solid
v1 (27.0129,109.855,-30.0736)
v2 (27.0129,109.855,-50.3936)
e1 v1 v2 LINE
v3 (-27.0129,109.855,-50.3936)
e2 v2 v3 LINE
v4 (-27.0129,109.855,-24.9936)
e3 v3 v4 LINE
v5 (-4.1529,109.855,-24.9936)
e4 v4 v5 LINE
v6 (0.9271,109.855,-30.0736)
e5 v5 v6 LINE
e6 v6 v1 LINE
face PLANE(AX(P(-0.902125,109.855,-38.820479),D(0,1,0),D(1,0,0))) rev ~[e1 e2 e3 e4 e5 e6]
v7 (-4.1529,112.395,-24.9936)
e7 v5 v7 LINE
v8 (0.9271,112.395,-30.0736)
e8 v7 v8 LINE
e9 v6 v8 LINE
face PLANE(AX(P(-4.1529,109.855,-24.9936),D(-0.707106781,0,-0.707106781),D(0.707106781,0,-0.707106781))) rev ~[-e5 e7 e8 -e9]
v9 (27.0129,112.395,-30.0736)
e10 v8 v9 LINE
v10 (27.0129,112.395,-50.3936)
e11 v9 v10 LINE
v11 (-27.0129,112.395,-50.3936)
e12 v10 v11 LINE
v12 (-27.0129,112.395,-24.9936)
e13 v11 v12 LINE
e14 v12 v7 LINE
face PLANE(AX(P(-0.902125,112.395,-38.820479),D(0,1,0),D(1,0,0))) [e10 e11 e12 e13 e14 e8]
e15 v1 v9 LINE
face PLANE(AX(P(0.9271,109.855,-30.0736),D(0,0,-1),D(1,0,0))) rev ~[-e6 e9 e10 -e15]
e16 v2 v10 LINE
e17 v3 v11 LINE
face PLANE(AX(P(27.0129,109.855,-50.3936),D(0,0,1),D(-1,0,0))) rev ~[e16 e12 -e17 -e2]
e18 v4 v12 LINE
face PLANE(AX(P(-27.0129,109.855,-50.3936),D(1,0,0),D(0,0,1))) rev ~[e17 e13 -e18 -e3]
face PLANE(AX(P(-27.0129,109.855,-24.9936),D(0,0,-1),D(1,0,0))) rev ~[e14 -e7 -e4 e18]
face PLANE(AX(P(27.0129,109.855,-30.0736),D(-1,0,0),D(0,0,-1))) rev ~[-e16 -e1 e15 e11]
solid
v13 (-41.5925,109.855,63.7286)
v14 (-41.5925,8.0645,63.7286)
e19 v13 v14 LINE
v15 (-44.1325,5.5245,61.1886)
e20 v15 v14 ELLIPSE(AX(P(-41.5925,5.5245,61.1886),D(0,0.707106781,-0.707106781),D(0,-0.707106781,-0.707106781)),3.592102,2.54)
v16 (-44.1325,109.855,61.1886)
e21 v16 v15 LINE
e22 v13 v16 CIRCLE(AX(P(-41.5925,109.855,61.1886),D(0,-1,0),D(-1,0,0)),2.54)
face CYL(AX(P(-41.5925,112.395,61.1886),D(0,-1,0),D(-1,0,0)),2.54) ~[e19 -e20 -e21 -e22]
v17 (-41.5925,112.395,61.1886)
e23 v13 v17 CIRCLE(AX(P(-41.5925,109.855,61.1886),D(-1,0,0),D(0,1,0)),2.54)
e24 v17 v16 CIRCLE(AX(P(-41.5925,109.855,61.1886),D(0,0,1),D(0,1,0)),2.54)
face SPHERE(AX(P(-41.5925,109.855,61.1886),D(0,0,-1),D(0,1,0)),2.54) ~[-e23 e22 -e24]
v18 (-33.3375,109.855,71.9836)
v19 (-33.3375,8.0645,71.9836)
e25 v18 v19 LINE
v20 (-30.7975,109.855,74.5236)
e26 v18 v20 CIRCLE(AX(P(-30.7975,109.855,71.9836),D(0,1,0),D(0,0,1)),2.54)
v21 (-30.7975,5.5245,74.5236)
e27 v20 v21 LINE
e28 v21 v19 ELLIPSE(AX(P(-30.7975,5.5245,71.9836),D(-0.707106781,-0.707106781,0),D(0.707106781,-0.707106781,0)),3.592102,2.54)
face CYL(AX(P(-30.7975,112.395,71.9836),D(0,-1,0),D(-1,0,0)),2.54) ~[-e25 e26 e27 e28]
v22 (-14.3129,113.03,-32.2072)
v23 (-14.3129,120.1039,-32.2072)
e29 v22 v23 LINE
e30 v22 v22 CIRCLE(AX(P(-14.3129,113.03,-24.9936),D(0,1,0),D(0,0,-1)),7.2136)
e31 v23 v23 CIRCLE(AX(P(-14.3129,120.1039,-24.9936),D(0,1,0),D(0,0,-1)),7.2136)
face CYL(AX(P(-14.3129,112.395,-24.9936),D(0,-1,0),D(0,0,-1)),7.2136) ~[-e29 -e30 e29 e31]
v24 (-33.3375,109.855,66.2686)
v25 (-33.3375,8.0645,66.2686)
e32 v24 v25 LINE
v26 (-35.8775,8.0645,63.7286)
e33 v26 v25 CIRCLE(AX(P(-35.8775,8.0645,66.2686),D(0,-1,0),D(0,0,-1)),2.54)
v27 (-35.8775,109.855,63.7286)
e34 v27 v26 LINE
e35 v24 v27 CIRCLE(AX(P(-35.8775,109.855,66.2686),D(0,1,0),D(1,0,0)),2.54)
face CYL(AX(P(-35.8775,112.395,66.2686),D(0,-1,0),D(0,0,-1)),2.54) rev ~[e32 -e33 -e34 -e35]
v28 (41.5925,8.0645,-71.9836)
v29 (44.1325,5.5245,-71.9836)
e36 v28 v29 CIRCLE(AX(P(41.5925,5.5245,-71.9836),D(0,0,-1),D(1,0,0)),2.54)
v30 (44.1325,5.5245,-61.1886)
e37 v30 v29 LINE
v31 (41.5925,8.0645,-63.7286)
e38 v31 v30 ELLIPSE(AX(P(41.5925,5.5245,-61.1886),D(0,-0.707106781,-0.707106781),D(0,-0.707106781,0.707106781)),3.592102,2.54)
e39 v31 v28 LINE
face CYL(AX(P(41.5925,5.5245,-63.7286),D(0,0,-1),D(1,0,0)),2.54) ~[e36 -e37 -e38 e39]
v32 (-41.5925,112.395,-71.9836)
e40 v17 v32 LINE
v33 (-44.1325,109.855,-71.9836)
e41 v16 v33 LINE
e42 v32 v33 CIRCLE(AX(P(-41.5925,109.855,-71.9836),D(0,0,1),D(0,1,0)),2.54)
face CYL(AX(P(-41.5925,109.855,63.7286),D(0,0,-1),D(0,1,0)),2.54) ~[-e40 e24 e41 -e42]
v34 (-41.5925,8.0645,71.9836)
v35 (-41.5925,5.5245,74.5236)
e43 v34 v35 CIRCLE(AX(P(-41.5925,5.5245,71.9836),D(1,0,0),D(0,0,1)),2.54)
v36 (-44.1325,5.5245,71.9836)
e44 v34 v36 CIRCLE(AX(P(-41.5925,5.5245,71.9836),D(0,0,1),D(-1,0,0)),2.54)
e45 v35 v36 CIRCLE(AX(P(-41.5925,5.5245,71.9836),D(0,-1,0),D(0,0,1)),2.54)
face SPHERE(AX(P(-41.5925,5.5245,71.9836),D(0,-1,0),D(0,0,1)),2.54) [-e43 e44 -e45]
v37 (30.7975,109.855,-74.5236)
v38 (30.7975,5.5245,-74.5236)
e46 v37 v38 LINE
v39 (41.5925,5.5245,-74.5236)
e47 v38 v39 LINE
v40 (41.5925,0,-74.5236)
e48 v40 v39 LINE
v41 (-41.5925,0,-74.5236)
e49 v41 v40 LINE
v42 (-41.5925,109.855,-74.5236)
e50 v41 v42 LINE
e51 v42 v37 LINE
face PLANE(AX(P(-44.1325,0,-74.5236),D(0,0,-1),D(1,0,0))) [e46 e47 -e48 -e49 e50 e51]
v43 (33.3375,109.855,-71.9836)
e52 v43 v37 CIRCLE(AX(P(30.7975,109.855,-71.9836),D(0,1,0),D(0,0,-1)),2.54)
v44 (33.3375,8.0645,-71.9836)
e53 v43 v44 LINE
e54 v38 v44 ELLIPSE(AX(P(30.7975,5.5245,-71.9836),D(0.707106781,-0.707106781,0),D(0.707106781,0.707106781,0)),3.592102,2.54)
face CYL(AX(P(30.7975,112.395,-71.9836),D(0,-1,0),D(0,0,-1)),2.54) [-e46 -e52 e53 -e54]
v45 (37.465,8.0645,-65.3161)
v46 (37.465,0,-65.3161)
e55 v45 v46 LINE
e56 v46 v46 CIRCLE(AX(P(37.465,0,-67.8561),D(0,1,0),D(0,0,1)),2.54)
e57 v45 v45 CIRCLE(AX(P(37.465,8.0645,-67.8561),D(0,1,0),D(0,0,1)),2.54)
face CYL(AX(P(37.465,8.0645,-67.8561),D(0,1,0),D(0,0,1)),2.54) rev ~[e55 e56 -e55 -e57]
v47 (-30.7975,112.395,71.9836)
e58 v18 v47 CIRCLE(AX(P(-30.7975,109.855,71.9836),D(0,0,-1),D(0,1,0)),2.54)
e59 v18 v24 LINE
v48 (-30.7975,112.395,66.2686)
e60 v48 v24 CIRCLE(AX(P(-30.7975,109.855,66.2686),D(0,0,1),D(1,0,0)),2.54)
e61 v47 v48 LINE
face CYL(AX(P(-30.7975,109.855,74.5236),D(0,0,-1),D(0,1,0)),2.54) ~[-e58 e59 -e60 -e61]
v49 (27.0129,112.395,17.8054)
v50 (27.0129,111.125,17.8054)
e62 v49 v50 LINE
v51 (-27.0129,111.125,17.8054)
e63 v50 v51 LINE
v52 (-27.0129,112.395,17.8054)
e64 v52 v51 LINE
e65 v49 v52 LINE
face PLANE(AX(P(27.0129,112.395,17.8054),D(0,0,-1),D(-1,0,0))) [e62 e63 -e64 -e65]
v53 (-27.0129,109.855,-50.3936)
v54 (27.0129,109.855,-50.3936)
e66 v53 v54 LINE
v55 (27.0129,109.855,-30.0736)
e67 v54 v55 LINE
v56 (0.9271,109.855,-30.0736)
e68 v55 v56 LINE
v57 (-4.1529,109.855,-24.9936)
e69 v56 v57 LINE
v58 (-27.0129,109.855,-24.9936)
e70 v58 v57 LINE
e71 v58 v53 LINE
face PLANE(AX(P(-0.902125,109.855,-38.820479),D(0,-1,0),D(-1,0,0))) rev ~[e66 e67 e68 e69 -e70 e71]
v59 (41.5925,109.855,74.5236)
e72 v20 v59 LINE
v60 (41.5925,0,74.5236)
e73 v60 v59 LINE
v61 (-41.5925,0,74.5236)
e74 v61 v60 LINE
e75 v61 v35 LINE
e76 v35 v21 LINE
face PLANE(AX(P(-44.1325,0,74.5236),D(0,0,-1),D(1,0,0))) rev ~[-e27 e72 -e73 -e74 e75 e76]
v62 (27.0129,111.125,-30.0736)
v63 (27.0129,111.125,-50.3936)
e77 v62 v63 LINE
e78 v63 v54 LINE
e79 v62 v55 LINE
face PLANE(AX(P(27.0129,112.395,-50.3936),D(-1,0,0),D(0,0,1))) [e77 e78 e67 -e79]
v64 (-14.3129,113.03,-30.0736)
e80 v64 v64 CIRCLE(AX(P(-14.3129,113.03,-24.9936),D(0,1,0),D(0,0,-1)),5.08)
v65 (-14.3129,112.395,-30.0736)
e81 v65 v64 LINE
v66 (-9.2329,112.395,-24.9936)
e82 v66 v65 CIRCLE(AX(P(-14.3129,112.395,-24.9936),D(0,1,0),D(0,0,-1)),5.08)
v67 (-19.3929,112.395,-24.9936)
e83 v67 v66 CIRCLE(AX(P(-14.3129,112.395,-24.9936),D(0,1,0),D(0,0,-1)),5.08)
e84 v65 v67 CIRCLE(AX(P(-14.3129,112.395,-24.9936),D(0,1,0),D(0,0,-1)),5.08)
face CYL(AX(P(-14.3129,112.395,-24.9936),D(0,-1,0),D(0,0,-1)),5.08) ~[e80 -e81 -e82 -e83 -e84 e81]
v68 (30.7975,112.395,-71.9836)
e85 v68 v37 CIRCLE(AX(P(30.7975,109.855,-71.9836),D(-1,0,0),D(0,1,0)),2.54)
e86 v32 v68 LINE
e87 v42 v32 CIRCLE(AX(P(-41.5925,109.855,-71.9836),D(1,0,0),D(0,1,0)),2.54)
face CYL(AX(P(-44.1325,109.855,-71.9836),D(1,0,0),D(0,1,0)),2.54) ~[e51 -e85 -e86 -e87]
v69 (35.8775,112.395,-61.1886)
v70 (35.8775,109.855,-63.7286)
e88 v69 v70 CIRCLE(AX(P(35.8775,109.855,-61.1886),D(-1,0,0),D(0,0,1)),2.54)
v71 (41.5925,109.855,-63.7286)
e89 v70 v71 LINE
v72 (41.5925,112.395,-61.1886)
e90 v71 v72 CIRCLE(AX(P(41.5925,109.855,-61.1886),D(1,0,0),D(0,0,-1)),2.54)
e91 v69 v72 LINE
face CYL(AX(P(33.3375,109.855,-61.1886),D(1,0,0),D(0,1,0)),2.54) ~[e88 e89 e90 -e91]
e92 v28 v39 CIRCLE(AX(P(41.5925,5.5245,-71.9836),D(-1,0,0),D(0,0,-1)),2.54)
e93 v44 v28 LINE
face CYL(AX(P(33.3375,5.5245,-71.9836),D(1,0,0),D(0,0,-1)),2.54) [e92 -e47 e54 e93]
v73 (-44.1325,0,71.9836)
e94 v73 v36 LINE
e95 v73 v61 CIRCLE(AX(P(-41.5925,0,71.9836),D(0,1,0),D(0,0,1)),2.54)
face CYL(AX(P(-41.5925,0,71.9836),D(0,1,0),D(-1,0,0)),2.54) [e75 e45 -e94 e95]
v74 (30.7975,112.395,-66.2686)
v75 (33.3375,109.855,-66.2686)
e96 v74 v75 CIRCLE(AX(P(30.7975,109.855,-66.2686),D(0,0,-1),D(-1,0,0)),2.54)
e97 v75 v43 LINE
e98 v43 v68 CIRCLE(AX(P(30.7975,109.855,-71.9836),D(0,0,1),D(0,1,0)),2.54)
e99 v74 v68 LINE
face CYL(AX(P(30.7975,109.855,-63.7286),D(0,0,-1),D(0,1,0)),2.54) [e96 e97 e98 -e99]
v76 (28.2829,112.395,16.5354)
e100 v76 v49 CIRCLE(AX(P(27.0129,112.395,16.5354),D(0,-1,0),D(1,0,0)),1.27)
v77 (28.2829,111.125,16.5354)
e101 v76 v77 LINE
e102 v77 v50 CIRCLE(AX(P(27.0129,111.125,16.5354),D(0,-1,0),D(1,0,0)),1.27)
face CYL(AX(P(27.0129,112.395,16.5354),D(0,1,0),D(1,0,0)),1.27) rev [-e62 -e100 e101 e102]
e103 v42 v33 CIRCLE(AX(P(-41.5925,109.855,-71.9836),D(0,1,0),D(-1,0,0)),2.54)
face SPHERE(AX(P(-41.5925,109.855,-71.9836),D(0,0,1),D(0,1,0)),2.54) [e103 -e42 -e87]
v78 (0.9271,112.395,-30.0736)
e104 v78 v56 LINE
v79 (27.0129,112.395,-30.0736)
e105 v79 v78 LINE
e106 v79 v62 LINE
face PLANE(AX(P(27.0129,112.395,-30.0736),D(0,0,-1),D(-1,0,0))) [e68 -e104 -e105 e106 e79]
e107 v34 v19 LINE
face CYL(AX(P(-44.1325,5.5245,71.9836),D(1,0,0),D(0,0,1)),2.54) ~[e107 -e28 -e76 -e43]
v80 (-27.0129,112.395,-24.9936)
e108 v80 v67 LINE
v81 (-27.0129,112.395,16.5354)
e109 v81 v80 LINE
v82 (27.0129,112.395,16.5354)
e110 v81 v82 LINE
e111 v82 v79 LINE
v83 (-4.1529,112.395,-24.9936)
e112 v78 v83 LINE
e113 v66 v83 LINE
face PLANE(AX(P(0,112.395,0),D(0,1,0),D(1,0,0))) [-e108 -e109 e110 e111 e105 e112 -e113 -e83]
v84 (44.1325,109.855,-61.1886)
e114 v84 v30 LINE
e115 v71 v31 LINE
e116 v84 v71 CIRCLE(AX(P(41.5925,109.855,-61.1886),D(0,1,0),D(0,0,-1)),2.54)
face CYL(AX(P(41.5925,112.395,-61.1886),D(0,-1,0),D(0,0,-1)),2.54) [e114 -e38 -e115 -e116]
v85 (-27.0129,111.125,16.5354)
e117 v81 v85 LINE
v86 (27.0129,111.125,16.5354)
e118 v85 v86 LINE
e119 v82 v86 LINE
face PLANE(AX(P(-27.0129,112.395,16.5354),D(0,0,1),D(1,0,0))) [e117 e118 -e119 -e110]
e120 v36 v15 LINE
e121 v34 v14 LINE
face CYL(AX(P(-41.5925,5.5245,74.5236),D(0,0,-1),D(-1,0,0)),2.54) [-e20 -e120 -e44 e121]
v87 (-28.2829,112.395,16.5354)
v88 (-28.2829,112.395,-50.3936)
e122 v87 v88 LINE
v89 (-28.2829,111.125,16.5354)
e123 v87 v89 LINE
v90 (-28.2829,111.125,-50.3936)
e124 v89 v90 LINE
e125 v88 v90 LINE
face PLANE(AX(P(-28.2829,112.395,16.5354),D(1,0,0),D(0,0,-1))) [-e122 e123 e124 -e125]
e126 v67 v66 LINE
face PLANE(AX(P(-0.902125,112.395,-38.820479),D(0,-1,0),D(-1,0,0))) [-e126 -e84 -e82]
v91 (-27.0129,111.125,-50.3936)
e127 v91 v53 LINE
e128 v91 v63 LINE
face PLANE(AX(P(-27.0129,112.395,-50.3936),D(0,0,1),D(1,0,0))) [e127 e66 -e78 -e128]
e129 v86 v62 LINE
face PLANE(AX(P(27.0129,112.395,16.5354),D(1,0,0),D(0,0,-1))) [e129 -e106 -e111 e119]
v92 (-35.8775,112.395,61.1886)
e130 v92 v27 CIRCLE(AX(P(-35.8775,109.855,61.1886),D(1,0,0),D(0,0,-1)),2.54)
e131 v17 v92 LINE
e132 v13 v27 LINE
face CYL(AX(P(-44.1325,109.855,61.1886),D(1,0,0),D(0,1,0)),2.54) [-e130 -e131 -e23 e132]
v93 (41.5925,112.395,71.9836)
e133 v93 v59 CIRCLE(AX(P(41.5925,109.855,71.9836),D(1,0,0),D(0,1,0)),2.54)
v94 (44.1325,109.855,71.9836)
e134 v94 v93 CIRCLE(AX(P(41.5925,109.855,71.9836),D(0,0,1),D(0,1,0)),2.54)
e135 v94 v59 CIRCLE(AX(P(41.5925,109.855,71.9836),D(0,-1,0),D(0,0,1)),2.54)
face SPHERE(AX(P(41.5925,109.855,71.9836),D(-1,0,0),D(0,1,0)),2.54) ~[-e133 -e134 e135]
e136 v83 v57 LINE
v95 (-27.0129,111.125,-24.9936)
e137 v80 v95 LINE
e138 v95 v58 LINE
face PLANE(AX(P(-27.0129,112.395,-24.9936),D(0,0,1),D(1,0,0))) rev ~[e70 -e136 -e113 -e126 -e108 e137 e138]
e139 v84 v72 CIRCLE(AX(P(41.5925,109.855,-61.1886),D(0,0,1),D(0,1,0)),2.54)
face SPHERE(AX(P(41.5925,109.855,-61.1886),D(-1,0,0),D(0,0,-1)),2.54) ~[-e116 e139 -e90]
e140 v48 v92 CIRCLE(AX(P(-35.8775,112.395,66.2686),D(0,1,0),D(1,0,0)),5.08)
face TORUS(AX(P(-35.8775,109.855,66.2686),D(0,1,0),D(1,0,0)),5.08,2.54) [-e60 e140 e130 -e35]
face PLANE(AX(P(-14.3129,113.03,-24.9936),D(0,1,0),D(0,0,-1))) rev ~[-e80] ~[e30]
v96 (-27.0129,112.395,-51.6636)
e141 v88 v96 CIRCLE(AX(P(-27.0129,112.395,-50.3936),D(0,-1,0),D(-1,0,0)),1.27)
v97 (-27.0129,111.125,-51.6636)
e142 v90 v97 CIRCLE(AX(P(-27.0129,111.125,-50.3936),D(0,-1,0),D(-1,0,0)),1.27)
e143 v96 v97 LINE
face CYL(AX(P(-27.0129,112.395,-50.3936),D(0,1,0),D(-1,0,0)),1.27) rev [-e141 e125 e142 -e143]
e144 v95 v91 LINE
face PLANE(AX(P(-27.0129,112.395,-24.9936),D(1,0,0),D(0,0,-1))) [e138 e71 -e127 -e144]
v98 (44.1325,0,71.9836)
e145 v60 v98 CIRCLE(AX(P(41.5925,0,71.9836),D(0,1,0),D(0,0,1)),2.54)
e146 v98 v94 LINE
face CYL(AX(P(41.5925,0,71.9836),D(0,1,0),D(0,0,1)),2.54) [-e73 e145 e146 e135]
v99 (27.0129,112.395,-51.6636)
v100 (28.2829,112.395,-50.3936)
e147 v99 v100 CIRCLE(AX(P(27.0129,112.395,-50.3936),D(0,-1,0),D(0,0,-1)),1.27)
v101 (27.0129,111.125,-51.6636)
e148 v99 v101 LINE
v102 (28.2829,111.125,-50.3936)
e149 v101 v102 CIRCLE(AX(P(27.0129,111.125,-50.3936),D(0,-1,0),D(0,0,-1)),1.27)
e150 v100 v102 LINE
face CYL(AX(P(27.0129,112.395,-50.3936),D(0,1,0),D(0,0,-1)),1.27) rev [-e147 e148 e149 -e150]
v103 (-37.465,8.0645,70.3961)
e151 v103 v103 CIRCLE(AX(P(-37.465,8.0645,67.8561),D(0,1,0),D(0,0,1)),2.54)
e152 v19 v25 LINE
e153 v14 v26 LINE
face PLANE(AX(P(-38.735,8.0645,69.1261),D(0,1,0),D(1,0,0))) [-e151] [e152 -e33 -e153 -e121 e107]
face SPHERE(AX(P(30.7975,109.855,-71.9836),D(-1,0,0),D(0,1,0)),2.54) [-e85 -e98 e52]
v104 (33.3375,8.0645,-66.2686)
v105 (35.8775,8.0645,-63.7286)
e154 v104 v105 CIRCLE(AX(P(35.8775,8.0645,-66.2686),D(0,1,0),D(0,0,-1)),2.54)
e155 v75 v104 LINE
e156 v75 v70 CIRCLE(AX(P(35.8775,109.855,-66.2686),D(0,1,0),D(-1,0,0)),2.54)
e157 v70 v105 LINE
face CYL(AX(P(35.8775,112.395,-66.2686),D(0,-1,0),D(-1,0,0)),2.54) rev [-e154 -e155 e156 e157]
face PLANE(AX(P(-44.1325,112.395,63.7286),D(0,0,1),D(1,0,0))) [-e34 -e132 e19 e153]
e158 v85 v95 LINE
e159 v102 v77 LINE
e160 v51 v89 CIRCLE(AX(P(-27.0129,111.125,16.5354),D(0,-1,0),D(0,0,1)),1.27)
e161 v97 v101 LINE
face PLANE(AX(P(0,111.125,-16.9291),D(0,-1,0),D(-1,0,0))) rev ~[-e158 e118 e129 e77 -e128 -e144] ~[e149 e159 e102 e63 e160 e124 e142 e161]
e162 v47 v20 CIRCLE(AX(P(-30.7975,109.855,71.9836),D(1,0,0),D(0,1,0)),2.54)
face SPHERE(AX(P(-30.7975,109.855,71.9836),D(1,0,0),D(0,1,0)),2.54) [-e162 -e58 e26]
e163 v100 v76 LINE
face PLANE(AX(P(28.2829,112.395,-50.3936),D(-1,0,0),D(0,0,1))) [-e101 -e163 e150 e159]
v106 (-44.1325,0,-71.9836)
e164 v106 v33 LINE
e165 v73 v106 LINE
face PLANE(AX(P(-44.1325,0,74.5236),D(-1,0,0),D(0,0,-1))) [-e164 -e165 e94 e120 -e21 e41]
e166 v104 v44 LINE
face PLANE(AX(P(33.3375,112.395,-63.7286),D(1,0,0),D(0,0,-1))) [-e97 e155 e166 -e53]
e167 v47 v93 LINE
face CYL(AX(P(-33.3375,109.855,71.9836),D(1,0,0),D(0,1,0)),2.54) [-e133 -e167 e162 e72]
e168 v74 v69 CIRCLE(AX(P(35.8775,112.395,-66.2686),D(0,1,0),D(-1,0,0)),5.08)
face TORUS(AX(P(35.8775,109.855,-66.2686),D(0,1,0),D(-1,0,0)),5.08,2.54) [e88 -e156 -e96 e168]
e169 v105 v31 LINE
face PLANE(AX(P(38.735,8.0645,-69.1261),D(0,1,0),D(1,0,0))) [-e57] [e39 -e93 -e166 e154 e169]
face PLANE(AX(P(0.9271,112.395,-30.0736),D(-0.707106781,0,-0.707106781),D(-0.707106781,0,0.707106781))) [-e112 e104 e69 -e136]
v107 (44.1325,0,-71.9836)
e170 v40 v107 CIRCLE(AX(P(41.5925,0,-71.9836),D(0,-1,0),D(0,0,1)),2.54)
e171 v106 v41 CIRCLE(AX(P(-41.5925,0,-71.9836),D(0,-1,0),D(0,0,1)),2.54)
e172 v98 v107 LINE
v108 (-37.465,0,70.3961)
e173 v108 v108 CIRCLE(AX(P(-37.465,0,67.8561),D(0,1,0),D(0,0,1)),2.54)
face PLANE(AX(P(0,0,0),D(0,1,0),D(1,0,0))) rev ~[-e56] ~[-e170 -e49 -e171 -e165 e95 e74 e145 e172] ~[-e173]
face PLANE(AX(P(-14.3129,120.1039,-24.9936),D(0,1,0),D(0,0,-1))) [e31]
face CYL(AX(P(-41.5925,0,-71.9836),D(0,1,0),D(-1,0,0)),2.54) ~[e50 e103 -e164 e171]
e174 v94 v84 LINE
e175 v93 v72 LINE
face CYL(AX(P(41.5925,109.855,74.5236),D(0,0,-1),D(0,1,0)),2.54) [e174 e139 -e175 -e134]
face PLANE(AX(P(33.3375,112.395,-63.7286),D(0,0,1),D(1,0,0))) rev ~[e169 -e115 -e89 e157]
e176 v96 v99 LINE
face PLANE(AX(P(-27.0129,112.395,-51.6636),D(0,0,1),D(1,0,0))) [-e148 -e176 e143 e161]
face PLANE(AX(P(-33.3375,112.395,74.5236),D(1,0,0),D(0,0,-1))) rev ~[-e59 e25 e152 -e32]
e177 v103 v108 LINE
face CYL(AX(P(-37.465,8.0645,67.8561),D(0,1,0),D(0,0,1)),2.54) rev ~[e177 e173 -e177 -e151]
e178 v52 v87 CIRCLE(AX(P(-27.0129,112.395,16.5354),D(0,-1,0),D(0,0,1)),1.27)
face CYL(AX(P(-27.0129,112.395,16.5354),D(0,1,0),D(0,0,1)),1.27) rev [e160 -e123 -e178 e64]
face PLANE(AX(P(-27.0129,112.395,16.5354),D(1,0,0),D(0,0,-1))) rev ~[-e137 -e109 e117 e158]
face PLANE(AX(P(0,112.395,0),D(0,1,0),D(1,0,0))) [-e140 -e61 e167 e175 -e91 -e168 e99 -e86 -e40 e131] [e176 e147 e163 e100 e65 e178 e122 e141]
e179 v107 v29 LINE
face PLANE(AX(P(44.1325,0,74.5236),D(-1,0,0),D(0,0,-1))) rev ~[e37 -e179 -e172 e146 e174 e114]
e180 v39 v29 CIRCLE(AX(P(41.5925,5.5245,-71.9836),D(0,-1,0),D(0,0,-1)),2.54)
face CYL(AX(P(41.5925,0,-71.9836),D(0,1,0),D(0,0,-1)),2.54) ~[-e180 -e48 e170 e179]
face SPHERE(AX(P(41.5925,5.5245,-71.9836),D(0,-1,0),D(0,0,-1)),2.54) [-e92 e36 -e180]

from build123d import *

# Parameters (mm, degrees)
SKETCH1_W           = 88.265
SKETCH1_H           = 149.0472
BOSS_EXTRUDE1_DEPTH = 112.395
SKETCH2_W           = 10.795
SKETCH2_H           = 10.795
CUT_EXTRUDE1_DEPTH  = 104.3305
SKETCH3_W           = 54.0258
SKETCH3_H           = 66.929
CUT_EXTRUDE2_DEPTH  = 1.27
SKETCH4_R           = 7.2136
SKETCH4_R_2         = 5.08
BOSS_EXTRUDE2_DEPTH = 7.7089
CUT_EXTRUDE5_START  = -7.7089
SKETCH7_R           = 7.2136
SKETCH7_R_2         = 5.08
CUT_EXTRUDE5_DEPTH  = 0.635
FILLET1_R           = 2.54
CUT_EXTRUDE6_DEPTH  = 2.54
BOSS_EXTRUDE3_DEPTH = 2.54
SKETCH10_R          = 2.54
CUT_EXTRUDE7_DEPTH  = 142.613105557


with BuildPart() as part:
    # Sketch1 → Boss-Extrude1 (new body)
    with BuildSketch(Plane(origin=(0, 0, 0), x_dir=(1, 0, 0), z_dir=(0, 1, 0))):
        Rectangle(SKETCH1_W, SKETCH1_H)
    extrude(amount=BOSS_EXTRUDE1_DEPTH)

    # Sketch2 → Cut-Extrude1 (cut)
    with BuildSketch(Plane(origin=(0, 112.395, 0), x_dir=(1, 0, 0), z_dir=(0, 1, 0))):
        with Locations((-38.735, -69.1261)):
            Rectangle(SKETCH2_W, SKETCH2_H)
        with Locations((38.735, 69.1261)):
            Rectangle(SKETCH2_W, SKETCH2_H)
    extrude(amount=-CUT_EXTRUDE1_DEPTH, mode=Mode.SUBTRACT)

    # Sketch3 → Cut-Extrude2 (cut)
    with BuildSketch(Plane(origin=(0, 112.395, 0), x_dir=(1, 0, 0), z_dir=(0, 1, 0))):
        with BuildLine():
            Line((-27.0129, 51.6636), (27.0129, 51.6636))
            ThreePointArc((27.0129, 51.6636), (27.910925612, 51.291625612), (28.2829, 50.3936))
            Line((28.2829, 50.3936), (28.2829, -16.5354))
            ThreePointArc((28.2829, -16.5354), (27.910925612, -17.433425612), (27.0129, -17.8054))
            Line((27.0129, -17.8054), (-27.0129, -17.8054))
            ThreePointArc((-27.0129, -17.8054), (-27.910925612, -17.433425612), (-28.2829, -16.5354))
            Line((-28.2829, -16.5354), (-28.2829, 50.3936))
            ThreePointArc((-28.2829, 50.3936), (-27.910925612, 51.291625612), (-27.0129, 51.6636))
        make_face()
        with Locations((0, 16.9291)):
            Rectangle(SKETCH3_W, SKETCH3_H, mode=Mode.SUBTRACT)
    extrude(amount=-CUT_EXTRUDE2_DEPTH, mode=Mode.SUBTRACT)

    # Sketch4 → Boss-Extrude2 (add)
    # profile 1 of 2: a face of its own
    with BuildSketch(Plane(origin=(0, 112.395, 0), x_dir=(1, 0, 0), z_dir=(0, 1, 0))):
        with Locations(Location((-14.3129, 24.9936, 0), (0, 0, 90))):
            Circle(SKETCH4_R)
        with Locations((-14.3129, 24.9936)):
            Circle(SKETCH4_R_2, mode=Mode.SUBTRACT)
    # profile 2 of 2: a face of its own
    with BuildSketch(Plane(origin=(0, 112.395, 0), x_dir=(1, 0, 0), z_dir=(0, 1, 0))):
        with Locations((-14.3129, 24.9936)):
            Circle(SKETCH4_R_2)
    extrude(amount=BOSS_EXTRUDE2_DEPTH)

    # Sketch7 → Cut-Extrude5 (cut)
    with BuildSketch(Plane(origin=(0, 120.1039, 0), x_dir=(1, 0, 0), z_dir=(0, 1, 0)).offset(CUT_EXTRUDE5_START)):
        with Locations(Location((-14.3129, 24.9936, 0), (0, 0, 90))):
            Circle(SKETCH7_R)
        with Locations(Location((-14.3129, 24.9936, 0), (0, 0, 90))):
            Circle(SKETCH7_R_2, mode=Mode.SUBTRACT)
    extrude(amount=CUT_EXTRUDE5_DEPTH, mode=Mode.SUBTRACT)

    # Fillet1
    fillet1_edges = [part.edges().sort_by_distance(p)[0] for p in [
        (-44.1325, 112.395, -5.3975),
        (-5.3975, 112.395, -74.5236),
        (5.3975, 112.395, 74.5236),
        (-44.1325, 4.03225, 74.5236),
        (44.1325, 4.03225, -74.5236),
        (-33.3375, 112.395, 69.1261),
        (-38.735, 112.395, 63.7286),
        (-38.735, 8.0645, 74.5236),
        (-33.3375, 60.22975, 74.5236),
        (-33.3375, 60.22975, 63.7286),
        (-44.1325, 60.22975, 63.7286),
        (-44.1325, 8.0645, 69.1261),
        (33.3375, 112.395, -69.1261),
        (38.735, 112.395, -63.7286),
        (38.735, 8.0645, -74.5236),
        (33.3375, 60.22975, -74.5236),
        (33.3375, 60.22975, -63.7286),
        (44.1325, 60.22975, -63.7286),
        (44.1325, 8.0645, -69.1261),
        (44.1325, 112.395, 5.3975),
        (44.1325, 56.1975, 74.5236),
        (-44.1325, 56.1975, -74.5236),
    ]]
    fillet(fillet1_edges, radius=FILLET1_R)

    # Sketch8 → Cut-Extrude6 (cut)
    with BuildSketch(Plane(origin=(0, 112.395, 0), x_dir=(1, 0, 0), z_dir=(0, 1, 0))):
        Polygon((-14.3129, 24.9936), (-27.0129, 24.9936), (-27.0129, 50.3936), (27.0129, 50.3936), (27.0129, 30.0736), (0.9271, 30.0736), (-4.1529, 24.9936), align=None)
    extrude(amount=-CUT_EXTRUDE6_DEPTH, mode=Mode.SUBTRACT)

    # Sketch10 → Cut-Extrude7 (cut, through all)
    with BuildSketch(Plane(origin=(0, 8.0645, 0), x_dir=(1, 0, 0), z_dir=(0, 1, 0))):
        with Locations(Location((-37.465, -67.8561, 0), (0, 0, 270))):
            Circle(SKETCH10_R)
        with Locations(Location((37.465, 67.8561, 0), (0, 0, 270))):
            Circle(SKETCH10_R)
    extrude(amount=-CUT_EXTRUDE7_DEPTH, mode=Mode.SUBTRACT)


with BuildPart() as body_2:
    # Sketch9 → Boss-Extrude3 (new body)
    with BuildSketch(Plane(origin=(0, 109.855, 0), x_dir=(1, 0, 0), z_dir=(0, 1, 0))):
        Polygon((-27.0129, 24.9936), (-4.1529, 24.9936), (0.9271, 30.0736), (27.0129, 30.0736), (27.0129, 50.3936), (-27.0129, 50.3936), align=None)
    extrude(amount=BOSS_EXTRUDE3_DEPTH)


solid = Compound([part.part, body_2.part])
